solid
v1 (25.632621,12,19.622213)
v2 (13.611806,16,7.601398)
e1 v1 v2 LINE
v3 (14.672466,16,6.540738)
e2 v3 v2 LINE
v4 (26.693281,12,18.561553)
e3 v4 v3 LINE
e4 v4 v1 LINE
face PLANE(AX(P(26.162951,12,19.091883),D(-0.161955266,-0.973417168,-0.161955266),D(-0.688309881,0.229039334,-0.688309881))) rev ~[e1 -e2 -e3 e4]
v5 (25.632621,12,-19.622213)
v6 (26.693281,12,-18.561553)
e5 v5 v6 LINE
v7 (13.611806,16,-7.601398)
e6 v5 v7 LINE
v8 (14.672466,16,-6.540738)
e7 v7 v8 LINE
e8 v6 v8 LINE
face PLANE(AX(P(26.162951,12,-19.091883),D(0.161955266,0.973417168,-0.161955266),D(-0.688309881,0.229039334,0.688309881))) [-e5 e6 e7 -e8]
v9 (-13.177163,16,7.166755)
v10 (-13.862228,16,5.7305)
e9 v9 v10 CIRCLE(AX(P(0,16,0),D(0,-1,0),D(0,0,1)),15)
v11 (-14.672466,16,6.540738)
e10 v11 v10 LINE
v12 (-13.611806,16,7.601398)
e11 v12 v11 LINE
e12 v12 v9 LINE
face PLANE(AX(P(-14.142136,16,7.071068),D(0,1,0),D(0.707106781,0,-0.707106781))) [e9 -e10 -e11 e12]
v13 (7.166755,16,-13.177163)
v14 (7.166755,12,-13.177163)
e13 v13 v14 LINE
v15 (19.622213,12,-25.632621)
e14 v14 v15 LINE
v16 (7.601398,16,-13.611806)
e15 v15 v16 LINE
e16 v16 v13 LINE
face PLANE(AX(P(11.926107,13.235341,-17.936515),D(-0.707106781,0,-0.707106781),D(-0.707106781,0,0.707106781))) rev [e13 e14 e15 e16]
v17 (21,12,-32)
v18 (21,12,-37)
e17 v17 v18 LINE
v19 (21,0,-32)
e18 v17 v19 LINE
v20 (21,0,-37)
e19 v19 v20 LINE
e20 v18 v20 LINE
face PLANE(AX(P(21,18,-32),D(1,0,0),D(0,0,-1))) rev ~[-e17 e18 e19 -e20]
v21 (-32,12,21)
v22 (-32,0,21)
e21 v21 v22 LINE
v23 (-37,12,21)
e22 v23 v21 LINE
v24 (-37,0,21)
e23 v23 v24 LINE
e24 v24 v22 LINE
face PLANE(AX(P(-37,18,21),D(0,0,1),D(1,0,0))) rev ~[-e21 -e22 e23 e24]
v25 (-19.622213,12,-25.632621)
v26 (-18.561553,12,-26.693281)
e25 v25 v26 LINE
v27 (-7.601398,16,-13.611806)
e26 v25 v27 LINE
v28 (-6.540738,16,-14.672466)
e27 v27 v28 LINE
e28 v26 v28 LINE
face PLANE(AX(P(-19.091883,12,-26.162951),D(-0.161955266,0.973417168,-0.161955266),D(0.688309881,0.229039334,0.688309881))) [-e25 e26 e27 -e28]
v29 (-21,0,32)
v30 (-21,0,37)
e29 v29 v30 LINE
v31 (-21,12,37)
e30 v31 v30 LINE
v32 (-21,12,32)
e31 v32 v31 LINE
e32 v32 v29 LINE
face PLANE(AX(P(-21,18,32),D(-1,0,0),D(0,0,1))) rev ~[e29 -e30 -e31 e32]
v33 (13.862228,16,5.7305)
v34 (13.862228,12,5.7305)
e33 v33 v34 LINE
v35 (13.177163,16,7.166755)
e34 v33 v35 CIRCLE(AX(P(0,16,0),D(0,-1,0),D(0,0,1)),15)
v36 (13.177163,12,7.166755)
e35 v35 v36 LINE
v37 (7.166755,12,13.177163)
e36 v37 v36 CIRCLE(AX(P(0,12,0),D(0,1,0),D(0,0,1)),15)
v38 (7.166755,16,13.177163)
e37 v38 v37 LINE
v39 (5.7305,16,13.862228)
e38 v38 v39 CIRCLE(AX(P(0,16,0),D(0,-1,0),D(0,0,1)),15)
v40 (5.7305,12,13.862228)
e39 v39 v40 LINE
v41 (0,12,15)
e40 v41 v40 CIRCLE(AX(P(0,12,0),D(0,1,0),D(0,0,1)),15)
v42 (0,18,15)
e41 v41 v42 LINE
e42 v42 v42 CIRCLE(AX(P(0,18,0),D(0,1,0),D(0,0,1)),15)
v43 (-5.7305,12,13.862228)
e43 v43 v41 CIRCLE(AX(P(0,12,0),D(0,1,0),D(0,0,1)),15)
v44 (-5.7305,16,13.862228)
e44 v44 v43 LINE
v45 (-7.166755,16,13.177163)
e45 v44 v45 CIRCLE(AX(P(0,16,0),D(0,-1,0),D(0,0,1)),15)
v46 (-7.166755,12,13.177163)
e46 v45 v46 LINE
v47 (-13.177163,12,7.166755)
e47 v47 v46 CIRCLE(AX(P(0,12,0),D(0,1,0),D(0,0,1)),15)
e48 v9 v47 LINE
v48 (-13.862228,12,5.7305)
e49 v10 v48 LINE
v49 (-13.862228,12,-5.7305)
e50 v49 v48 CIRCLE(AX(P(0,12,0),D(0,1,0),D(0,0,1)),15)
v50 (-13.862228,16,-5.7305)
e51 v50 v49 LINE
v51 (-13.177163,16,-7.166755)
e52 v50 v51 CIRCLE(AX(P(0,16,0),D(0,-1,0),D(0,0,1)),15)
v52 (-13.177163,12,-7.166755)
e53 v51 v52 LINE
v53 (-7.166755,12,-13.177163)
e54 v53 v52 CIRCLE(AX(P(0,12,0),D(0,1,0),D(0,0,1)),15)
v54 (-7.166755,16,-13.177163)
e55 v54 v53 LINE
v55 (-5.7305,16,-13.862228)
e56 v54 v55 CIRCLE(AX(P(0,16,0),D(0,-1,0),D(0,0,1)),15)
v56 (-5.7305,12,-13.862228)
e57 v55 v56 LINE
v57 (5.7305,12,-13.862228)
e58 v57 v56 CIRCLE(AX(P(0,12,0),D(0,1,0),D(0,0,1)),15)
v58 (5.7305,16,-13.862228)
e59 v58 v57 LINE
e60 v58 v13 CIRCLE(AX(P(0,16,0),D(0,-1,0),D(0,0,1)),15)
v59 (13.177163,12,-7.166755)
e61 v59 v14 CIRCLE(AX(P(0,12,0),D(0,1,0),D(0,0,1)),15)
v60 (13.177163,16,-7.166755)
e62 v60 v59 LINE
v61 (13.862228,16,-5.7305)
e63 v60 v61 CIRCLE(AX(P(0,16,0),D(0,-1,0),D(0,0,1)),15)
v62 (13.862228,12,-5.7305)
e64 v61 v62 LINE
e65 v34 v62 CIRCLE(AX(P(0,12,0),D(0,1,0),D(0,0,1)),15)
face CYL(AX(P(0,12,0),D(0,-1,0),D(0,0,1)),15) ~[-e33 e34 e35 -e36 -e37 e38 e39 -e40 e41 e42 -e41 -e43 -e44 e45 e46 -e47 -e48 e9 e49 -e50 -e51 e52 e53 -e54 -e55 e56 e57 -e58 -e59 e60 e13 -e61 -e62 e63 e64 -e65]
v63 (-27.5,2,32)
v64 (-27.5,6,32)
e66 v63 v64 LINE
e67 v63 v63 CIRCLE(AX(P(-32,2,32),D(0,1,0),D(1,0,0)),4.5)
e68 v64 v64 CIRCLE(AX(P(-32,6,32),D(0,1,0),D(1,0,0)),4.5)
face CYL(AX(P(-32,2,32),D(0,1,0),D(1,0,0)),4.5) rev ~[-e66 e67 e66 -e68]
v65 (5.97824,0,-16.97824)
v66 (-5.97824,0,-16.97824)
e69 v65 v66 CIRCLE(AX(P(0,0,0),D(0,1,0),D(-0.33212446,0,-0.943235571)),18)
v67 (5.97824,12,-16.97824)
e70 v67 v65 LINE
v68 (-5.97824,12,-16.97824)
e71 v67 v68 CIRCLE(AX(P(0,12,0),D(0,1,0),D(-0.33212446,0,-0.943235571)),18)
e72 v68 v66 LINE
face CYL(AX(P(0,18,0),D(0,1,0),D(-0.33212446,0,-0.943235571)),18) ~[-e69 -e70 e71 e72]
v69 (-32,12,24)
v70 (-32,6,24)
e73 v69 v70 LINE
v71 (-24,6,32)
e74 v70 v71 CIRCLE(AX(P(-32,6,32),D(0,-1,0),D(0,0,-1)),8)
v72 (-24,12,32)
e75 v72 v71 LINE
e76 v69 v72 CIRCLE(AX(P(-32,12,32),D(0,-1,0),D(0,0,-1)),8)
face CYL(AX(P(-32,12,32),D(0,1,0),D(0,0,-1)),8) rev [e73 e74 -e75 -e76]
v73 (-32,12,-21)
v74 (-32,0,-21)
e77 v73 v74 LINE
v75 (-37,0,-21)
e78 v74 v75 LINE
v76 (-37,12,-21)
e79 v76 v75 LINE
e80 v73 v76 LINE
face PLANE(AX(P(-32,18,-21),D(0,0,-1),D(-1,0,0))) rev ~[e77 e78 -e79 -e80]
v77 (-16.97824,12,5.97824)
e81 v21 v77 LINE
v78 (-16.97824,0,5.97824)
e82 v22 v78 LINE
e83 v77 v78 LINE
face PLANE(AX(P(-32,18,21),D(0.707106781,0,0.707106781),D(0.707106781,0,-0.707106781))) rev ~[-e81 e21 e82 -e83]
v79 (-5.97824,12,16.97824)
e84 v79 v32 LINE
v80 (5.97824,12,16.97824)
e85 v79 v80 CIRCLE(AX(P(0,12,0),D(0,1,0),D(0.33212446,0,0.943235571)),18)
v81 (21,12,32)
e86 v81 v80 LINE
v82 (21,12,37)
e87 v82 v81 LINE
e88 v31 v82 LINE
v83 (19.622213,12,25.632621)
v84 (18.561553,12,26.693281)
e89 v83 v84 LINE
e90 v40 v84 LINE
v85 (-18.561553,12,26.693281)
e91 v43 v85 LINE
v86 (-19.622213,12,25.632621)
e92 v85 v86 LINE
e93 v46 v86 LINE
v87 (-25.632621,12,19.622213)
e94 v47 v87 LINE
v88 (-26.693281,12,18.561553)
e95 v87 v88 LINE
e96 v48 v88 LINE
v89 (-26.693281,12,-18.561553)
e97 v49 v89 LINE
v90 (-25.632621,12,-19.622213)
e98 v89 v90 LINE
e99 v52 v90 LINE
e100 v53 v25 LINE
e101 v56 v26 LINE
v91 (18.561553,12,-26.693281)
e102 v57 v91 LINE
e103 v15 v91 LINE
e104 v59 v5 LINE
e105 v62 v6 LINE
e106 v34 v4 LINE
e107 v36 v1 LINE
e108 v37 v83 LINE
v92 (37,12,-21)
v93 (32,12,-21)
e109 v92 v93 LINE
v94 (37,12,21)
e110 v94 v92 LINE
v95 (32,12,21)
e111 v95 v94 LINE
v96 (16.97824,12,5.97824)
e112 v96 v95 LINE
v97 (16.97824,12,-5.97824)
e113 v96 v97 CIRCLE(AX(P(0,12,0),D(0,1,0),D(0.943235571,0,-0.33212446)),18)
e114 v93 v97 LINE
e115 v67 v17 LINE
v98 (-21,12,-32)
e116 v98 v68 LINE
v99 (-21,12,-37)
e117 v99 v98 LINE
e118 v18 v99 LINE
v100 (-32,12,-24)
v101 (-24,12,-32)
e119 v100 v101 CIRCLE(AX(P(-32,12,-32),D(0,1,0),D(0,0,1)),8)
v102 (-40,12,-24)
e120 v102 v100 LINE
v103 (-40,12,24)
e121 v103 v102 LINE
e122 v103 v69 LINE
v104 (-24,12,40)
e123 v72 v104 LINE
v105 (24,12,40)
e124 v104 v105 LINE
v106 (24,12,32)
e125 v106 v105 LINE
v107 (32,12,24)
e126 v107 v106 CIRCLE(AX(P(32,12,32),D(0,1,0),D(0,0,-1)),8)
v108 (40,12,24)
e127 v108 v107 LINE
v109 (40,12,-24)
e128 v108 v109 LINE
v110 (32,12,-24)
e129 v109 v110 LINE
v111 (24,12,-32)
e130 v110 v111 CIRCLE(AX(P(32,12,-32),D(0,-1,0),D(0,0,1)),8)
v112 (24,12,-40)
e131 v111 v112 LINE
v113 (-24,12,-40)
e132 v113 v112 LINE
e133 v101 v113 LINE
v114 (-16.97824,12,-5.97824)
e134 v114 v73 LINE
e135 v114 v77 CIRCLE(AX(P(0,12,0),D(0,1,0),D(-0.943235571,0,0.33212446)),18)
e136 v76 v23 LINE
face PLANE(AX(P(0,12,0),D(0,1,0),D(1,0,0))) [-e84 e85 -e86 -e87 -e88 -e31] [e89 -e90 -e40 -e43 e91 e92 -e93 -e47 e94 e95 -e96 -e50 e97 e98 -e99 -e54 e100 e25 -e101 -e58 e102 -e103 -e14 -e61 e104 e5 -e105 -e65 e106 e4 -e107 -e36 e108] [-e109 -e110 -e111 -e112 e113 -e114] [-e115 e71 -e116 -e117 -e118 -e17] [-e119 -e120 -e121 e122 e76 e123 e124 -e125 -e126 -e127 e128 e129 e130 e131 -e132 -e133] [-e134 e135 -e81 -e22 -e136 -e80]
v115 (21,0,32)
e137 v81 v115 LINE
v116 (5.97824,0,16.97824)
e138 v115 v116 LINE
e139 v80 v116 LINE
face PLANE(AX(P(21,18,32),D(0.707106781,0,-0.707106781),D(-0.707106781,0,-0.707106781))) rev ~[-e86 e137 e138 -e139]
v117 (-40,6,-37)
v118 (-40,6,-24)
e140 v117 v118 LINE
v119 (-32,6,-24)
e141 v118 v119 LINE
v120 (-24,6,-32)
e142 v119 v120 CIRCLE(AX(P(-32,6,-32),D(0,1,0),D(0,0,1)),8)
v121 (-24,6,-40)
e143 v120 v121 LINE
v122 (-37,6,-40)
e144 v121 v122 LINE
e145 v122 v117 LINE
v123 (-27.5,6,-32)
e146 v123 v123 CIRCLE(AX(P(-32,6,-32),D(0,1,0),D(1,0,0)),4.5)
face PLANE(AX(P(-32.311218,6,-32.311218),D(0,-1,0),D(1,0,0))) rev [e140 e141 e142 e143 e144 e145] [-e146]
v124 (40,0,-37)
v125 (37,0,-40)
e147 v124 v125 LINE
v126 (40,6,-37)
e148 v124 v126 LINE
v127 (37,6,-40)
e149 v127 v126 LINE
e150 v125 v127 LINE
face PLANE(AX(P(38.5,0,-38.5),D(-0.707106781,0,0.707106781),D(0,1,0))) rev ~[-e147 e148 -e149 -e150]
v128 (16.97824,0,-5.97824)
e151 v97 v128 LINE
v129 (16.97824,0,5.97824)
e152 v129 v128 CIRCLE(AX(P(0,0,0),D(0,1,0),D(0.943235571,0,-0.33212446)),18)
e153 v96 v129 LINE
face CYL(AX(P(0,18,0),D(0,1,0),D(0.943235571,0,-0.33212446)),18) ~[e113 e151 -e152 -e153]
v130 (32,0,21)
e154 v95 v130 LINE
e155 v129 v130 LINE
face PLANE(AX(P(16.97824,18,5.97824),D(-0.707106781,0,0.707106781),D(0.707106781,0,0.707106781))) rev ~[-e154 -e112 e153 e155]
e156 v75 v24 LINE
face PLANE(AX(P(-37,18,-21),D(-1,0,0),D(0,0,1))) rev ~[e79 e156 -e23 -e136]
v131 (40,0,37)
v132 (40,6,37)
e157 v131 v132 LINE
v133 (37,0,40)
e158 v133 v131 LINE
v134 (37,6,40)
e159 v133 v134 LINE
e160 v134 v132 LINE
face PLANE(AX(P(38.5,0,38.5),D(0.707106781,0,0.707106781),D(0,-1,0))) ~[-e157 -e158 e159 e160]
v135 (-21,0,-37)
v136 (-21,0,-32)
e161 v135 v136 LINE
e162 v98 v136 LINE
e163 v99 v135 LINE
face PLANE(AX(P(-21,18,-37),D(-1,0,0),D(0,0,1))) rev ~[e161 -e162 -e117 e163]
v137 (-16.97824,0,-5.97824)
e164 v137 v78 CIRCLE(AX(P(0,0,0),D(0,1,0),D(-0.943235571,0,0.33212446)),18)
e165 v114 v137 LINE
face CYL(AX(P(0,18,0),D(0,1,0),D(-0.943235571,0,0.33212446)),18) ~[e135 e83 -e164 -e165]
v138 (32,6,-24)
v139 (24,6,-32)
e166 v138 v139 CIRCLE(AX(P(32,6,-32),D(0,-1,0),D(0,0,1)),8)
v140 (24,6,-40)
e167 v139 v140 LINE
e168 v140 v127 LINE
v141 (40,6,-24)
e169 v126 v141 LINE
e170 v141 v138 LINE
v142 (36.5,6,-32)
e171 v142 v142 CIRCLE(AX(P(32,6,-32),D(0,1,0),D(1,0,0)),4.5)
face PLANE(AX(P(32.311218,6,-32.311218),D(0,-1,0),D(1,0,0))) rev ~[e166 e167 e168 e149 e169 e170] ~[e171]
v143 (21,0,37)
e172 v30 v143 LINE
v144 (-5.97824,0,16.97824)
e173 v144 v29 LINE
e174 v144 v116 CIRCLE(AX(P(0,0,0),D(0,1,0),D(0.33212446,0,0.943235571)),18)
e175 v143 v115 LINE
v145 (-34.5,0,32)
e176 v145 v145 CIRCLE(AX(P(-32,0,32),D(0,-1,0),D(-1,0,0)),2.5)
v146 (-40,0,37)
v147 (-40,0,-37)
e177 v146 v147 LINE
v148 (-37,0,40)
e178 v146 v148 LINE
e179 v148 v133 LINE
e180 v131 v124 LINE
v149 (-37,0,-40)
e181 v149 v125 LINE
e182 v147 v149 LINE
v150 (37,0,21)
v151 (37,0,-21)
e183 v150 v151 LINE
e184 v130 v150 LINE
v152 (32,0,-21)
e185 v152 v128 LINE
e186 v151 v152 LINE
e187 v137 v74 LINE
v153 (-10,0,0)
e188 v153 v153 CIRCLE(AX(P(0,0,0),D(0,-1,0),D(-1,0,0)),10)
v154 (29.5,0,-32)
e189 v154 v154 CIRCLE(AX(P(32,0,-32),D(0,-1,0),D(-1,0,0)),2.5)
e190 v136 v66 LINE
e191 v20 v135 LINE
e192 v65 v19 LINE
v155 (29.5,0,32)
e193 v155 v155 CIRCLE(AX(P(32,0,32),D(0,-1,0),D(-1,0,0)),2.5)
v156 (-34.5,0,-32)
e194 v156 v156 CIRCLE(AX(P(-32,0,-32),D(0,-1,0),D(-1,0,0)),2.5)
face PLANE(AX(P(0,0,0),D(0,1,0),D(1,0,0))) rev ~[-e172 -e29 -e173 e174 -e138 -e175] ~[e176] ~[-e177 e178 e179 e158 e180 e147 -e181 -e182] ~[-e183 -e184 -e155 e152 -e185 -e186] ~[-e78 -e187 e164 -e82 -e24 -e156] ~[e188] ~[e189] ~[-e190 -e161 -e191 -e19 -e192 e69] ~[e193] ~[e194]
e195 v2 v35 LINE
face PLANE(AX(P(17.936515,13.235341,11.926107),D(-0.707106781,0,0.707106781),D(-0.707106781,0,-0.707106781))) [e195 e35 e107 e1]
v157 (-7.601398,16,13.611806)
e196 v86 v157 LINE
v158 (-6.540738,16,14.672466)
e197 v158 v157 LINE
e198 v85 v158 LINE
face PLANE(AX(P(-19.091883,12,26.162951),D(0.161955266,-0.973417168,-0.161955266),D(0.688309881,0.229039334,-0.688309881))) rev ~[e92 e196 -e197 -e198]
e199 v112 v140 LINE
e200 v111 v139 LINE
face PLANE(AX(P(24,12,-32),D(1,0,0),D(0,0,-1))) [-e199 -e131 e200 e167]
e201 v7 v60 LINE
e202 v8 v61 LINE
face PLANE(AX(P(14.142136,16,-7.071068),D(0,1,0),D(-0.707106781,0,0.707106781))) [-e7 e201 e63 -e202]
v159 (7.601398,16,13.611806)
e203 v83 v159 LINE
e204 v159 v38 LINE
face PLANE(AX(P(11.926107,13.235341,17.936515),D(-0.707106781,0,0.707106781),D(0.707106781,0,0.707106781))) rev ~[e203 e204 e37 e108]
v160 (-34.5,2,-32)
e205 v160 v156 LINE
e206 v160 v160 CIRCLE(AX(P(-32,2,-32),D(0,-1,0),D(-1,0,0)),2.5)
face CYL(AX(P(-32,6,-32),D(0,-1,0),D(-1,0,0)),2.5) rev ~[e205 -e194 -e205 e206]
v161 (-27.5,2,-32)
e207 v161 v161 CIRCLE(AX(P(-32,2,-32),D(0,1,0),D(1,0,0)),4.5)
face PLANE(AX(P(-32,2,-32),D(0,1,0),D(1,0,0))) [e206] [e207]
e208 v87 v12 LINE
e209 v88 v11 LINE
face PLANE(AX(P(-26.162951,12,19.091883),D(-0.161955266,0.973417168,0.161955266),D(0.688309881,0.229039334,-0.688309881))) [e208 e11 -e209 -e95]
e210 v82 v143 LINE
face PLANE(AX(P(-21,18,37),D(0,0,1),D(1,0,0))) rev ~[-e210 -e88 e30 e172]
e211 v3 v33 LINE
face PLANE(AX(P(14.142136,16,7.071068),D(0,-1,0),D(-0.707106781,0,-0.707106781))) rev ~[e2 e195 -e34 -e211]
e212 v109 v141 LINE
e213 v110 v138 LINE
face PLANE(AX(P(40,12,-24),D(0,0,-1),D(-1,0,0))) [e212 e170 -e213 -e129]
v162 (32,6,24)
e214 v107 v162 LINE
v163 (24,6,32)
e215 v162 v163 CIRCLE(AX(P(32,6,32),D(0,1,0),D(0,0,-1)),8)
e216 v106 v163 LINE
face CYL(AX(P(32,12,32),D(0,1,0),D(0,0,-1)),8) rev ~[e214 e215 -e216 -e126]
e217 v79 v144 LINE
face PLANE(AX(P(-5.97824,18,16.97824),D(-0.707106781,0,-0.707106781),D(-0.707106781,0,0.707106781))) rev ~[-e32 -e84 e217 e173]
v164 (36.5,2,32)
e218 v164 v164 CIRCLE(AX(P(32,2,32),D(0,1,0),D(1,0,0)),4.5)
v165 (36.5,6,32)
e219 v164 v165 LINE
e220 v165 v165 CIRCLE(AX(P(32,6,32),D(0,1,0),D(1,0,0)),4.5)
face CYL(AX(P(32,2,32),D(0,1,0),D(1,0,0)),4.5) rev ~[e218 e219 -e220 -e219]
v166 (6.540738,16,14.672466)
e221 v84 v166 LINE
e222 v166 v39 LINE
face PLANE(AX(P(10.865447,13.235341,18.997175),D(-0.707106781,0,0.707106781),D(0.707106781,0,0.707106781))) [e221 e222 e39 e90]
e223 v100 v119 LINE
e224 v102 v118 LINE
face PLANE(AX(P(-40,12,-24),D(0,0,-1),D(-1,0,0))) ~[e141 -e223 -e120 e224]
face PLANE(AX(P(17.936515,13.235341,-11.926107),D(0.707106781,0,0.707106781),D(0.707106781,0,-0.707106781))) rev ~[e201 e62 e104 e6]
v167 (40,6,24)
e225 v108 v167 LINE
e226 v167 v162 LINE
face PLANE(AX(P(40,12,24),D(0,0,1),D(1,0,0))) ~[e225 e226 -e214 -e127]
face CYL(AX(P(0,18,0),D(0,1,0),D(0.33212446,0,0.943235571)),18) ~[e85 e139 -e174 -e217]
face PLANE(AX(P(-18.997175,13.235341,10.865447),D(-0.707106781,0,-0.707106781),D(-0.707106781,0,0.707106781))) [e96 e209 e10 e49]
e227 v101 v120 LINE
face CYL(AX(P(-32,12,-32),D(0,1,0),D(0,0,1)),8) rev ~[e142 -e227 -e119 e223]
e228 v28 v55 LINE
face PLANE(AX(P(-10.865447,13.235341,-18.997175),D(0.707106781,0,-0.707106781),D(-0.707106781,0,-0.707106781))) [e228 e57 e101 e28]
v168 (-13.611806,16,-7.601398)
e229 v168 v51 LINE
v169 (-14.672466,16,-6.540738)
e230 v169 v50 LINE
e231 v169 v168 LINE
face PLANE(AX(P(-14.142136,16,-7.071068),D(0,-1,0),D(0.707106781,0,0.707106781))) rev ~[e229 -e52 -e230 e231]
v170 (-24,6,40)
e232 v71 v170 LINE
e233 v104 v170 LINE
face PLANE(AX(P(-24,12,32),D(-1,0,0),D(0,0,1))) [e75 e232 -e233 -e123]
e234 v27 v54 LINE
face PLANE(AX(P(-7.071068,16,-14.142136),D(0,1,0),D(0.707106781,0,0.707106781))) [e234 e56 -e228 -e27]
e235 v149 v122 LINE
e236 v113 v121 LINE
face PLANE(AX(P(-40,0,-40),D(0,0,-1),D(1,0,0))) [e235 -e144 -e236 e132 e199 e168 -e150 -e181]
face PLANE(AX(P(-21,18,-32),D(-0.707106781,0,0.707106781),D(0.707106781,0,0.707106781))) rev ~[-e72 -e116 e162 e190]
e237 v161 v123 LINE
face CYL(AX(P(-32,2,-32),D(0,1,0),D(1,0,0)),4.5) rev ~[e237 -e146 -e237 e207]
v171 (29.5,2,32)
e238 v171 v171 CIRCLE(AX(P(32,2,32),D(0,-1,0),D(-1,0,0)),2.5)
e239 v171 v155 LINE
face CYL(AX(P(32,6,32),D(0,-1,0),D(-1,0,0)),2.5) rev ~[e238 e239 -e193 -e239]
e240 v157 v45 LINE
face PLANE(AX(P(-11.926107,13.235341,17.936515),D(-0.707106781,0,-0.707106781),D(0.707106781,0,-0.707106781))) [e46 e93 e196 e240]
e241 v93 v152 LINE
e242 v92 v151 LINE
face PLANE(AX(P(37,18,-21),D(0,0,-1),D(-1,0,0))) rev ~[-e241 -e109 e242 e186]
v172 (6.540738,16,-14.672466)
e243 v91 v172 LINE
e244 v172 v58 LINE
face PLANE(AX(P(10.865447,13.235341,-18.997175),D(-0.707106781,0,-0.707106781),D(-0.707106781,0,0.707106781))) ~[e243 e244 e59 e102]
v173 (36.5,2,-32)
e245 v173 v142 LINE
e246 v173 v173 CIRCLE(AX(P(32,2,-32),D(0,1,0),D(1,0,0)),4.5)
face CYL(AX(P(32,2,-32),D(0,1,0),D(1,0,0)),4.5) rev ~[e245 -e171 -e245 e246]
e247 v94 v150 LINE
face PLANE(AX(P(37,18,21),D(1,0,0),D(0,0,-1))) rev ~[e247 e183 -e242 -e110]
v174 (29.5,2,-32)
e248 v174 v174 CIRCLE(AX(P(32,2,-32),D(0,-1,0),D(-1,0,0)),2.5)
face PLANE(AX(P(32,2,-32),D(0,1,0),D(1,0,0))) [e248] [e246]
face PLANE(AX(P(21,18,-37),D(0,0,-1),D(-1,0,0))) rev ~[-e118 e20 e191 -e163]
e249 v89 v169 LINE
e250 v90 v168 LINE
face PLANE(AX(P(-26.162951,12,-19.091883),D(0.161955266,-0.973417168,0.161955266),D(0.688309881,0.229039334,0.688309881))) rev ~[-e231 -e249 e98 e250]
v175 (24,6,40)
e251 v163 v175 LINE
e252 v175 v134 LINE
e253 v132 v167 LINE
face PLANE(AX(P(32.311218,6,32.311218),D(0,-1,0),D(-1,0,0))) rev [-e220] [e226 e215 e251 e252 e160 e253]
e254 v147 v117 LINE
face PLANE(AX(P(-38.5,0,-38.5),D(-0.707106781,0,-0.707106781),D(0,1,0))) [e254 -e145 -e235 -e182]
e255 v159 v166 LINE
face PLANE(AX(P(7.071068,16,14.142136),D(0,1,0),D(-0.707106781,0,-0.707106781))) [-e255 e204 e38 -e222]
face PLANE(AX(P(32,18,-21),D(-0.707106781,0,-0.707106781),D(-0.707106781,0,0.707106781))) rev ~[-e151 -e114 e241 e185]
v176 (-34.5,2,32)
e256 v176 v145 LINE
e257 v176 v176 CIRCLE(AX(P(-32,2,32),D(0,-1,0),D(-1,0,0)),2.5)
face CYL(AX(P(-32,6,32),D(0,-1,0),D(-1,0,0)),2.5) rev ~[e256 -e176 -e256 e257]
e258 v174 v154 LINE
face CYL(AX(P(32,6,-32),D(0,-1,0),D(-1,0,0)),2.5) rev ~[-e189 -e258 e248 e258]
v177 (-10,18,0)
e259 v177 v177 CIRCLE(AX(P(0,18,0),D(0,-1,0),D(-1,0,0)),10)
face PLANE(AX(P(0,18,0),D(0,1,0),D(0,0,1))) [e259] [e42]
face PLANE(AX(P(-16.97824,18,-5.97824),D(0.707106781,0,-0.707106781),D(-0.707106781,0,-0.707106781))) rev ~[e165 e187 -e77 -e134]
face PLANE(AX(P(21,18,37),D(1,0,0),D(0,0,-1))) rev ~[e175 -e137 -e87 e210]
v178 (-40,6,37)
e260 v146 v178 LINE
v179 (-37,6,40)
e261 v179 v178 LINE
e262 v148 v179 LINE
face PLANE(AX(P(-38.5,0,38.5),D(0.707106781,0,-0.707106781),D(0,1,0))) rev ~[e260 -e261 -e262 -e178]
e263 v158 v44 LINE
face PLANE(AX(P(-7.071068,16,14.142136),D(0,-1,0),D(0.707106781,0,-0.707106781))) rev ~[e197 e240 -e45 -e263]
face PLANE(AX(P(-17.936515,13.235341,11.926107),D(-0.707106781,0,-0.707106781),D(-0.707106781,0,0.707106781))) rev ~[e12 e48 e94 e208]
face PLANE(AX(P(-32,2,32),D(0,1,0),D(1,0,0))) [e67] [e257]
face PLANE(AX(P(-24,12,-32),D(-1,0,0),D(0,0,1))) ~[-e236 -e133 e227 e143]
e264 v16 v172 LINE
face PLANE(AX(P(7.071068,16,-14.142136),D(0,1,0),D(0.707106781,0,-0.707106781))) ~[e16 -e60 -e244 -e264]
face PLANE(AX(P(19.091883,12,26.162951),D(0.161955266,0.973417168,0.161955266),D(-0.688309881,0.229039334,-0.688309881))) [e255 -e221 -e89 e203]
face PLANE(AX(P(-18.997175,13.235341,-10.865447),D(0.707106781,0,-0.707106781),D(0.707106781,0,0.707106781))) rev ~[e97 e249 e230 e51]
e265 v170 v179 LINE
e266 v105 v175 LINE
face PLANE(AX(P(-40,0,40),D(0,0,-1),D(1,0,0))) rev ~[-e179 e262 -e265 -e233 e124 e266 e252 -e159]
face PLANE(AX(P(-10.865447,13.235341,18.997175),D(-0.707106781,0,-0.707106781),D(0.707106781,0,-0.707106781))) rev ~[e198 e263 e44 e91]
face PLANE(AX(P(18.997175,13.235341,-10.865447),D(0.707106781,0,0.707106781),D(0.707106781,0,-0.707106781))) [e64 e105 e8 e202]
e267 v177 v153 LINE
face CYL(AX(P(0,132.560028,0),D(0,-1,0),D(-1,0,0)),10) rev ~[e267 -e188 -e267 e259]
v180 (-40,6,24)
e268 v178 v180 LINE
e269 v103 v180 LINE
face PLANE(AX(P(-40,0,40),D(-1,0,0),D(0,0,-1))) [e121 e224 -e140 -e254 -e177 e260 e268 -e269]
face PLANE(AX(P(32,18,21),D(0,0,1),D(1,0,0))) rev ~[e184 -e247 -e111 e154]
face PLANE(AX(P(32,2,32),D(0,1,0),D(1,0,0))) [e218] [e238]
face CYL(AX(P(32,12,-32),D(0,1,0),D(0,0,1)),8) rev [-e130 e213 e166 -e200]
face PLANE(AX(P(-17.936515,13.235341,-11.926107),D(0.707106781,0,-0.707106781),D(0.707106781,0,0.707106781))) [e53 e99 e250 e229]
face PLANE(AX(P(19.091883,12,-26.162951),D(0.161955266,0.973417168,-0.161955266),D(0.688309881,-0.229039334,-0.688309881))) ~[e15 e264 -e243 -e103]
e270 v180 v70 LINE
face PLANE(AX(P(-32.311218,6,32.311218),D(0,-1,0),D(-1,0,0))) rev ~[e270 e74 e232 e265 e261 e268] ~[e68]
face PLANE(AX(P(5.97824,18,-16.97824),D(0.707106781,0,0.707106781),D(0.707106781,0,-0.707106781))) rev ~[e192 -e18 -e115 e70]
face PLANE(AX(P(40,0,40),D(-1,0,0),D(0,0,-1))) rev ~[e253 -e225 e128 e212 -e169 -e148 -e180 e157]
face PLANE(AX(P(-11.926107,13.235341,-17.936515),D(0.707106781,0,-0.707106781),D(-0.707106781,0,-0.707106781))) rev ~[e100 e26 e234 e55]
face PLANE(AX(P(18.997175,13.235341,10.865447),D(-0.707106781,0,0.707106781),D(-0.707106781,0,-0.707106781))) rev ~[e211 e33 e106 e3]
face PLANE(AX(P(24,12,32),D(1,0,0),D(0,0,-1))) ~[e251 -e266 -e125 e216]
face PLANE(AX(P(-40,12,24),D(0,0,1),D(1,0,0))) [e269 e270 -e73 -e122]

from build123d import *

# Parameters (mm, degrees)
SKETCH1_W                = 80
SKETCH1_H                = 80
BOSS_EXTRUDE1_DEPTH      = 12
CHAMFER1_SIZE            = 3
CUT_EXTRUDE1_DEPTH       = 6
MIRROR2_COPY_1_DEPTH     = 6
HOLE3_D                  = 5
HOLE3_CBORE_D            = 9
HOLE3_CBORE_DEPTH        = 4
SKETCH9_R                = 15
BOSS_EXTRUDE2_DEPTH      = 6
CUT_EXTRUDE2_DEPTH       = 60.363288319
CIRPATTERN1_COUNT        = 4
BOSS_EXTRUDE3_START      = 5
BOSS_EXTRUDE3_DEPTH      = 0.75
CIRPATTERN2_COUNT        = 4
CIRPATTERN2_START        = 5
CIRPATTERN2_COPY_1_DEPTH = 0.75
CIRPATTERN2_COPY_2_DEPTH = 0.75
CIRPATTERN2_COPY_3_DEPTH = 0.75
HOLE4_D                  = 20


with BuildPart() as part:
    # Sketch1 → Boss-Extrude1 (new body)
    with BuildSketch(Plane(origin=(0, 0, 0), x_dir=(1, 0, 0), z_dir=(0, 1, 0))):
        Rectangle(SKETCH1_W, SKETCH1_H)
    extrude(amount=BOSS_EXTRUDE1_DEPTH)

    # Chamfer1
    chamfer1_edges = [part.edges().sort_by_distance(p)[0] for p in [
        (40, 6, 40),
        (-40, 6, 40),
        (-40, 6, -40),
        (40, 6, -40),
    ]]
    chamfer(chamfer1_edges, length=CHAMFER1_SIZE)

    # Sketch2 → Cut-Extrude1 (cut)
    with BuildSketch(Plane(origin=(0, 12, 0), x_dir=(1, 0, 0), z_dir=(0, 1, 0))):
        with BuildLine():
            Line((-40, -24), (-32, -24))
            ThreePointArc((-32, -24), (-26.343145751, -26.343145751), (-24, -32))
            Line((-24, -32), (-24, -40))
            Line((-24, -40), (-37, -40))
            Line((-37, -40), (-40, -37))
            Line((-40, -37), (-40, -24))
        make_face()
    cut_extrude1 = extrude(amount=-CUT_EXTRUDE1_DEPTH, mode=Mode.SUBTRACT)

    # Mirror1: Cut-Extrude1 across plane
    add(cut_extrude1.mirror(Plane(origin=(0, 0, 0), x_dir=(0, 0, 1), z_dir=(1, 0, 0))), mode=Mode.SUBTRACT)

    # Mirror2: Cut-Extrude1 across plane
    add(cut_extrude1.mirror(Plane.XY), mode=Mode.SUBTRACT)

    # Mirror2 copy 1 sketch → Mirror2 copy 1 (cut)
    with BuildSketch(Plane(origin=(0, 12, 0), x_dir=(-1, 0, 0), z_dir=(0, 1, 0))):
        with BuildLine():
            Line((-40, -24), (-32, -24))
            ThreePointArc((-32, -24), (-26.343145751, -26.343145751), (-24, -32))
            Line((-24, -32), (-24, -40))
            Line((-24, -40), (-37, -40))
            Line((-37, -40), (-40, -37))
            Line((-40, -37), (-40, -24))
        make_face()
    extrude(amount=-MIRROR2_COPY_1_DEPTH, mode=Mode.SUBTRACT)

    # Hole3 (through all)
    with Locations(Plane(origin=(0, 6, 0), x_dir=(1, 0, 0), z_dir=(0, 1, 0))):
        with Locations((-32, -32), (32, -32), (32, 32), (-32, 32)):
            CounterBoreHole(HOLE3_D / 2, HOLE3_CBORE_D / 2, HOLE3_CBORE_DEPTH)

    # Sketch9 → Boss-Extrude2 (add)
    with BuildSketch(Plane(origin=(0, 12, 0), x_dir=(1, 0, 0), z_dir=(0, 1, 0))):
        with Locations(Location((0, 0, 0), (0, 0, 270))):
            Circle(SKETCH9_R)
    extrude(amount=BOSS_EXTRUDE2_DEPTH)

    # Sketch10 → Cut-Extrude2 (cut, through all)
    with BuildSketch(Plane(origin=(0, 18, 0), x_dir=(1, 0, 0), z_dir=(0, 1, 0))):
        with BuildLine():
            Line((-21, 37), (-21, 32))
            Line((-21, 32), (-5.978240283, 16.978240283))
            ThreePointArc((-5.978240283, 16.978240283), (0, 18), (5.978240283, 16.978240283))
            Line((5.978240283, 16.978240283), (21, 32))
            Line((21, 32), (21, 37))
            Line((21, 37), (-21, 37))
        make_face()
    cut_extrude2 = extrude(amount=-CUT_EXTRUDE2_DEPTH, mode=Mode.SUBTRACT)

    # CirPattern1: Cut-Extrude2 ×4 about axis
    cirpattern1_axis = Axis((0, 0, 0), (0, 1, 0))
    for i in range(1, CIRPATTERN1_COUNT):
        add(cut_extrude2.rotate(cirpattern1_axis, i * 360 / CIRPATTERN1_COUNT), mode=Mode.SUBTRACT)

    # Sketch12 → Boss-Extrude3 (add, symmetric)
    with BuildSketch(Plane(origin=(0, 0, 0), x_dir=(0.7071067811865491, 0, -0.707106781186546), z_dir=(0.707106781186546, 0, 0.7071067811865491)).offset(BOSS_EXTRUDE3_START)):
        Polygon((12, 12), (32, 12), (15, 16), (12, 16), align=None)
    boss_extrude3 = extrude(amount=BOSS_EXTRUDE3_DEPTH, both=True)

    # Mirror4: Boss-Extrude3 across plane
    add(boss_extrude3.mirror(Plane(origin=(0, 0, 0), x_dir=(-0.7071067811865492, 0, 0.7071067811865459), z_dir=(0.707106781186546, 0, 0.7071067811865491))))

    # CirPattern2: Boss-Extrude3 ×4 about axis
    cirpattern2_axis = Axis((0, 0, 0), (0, 1, 0))
    for i in range(1, CIRPATTERN2_COUNT):
        add(boss_extrude3.rotate(cirpattern2_axis, i * 360 / CIRPATTERN2_COUNT))

    # CirPattern2 copy 1 sketch → CirPattern2 copy 1 (add, symmetric)
    with BuildSketch(Plane(origin=(0, 0, 0), x_dir=(-0.707106781186546, 0, -0.7071067811865491), z_dir=(-0.7071067811865493, 0, 0.7071067811865462)).offset(CIRPATTERN2_START)):
        Polygon((12, -12), (32, -12), (15, -16), (12, -16), align=None)
    extrude(amount=CIRPATTERN2_COPY_1_DEPTH, both=True)

    # CirPattern2 copy 2 sketch → CirPattern2 copy 2 (add, symmetric)
    with BuildSketch(Plane(origin=(0, 0, 0), x_dir=(-0.7071067811865492, 0, 0.707106781186546), z_dir=(0.7071067811865461, 0, 0.7071067811865493)).offset(CIRPATTERN2_START)):
        Polygon((12, -12), (32, -12), (15, -16), (12, -16), align=None)
    extrude(amount=CIRPATTERN2_COPY_2_DEPTH, both=True)

    # CirPattern2 copy 3 sketch → CirPattern2 copy 3 (add, symmetric)
    with BuildSketch(Plane(origin=(0, 0, 0), x_dir=(0.707106781186546, 0, 0.7071067811865492), z_dir=(0.7071067811865493, 0, -0.7071067811865461)).offset(CIRPATTERN2_START)):
        Polygon((12, -12), (32, -12), (15, -16), (12, -16), align=None)
    extrude(amount=CIRPATTERN2_COPY_3_DEPTH, both=True)

    # Hole4 (through all)
    with Locations(Plane(origin=(0, 18, 0), x_dir=(1, 0, 0), z_dir=(0, 1, 0))):
        with Locations((0, 0)):
            Hole(HOLE4_D / 2)


solid = part.part
